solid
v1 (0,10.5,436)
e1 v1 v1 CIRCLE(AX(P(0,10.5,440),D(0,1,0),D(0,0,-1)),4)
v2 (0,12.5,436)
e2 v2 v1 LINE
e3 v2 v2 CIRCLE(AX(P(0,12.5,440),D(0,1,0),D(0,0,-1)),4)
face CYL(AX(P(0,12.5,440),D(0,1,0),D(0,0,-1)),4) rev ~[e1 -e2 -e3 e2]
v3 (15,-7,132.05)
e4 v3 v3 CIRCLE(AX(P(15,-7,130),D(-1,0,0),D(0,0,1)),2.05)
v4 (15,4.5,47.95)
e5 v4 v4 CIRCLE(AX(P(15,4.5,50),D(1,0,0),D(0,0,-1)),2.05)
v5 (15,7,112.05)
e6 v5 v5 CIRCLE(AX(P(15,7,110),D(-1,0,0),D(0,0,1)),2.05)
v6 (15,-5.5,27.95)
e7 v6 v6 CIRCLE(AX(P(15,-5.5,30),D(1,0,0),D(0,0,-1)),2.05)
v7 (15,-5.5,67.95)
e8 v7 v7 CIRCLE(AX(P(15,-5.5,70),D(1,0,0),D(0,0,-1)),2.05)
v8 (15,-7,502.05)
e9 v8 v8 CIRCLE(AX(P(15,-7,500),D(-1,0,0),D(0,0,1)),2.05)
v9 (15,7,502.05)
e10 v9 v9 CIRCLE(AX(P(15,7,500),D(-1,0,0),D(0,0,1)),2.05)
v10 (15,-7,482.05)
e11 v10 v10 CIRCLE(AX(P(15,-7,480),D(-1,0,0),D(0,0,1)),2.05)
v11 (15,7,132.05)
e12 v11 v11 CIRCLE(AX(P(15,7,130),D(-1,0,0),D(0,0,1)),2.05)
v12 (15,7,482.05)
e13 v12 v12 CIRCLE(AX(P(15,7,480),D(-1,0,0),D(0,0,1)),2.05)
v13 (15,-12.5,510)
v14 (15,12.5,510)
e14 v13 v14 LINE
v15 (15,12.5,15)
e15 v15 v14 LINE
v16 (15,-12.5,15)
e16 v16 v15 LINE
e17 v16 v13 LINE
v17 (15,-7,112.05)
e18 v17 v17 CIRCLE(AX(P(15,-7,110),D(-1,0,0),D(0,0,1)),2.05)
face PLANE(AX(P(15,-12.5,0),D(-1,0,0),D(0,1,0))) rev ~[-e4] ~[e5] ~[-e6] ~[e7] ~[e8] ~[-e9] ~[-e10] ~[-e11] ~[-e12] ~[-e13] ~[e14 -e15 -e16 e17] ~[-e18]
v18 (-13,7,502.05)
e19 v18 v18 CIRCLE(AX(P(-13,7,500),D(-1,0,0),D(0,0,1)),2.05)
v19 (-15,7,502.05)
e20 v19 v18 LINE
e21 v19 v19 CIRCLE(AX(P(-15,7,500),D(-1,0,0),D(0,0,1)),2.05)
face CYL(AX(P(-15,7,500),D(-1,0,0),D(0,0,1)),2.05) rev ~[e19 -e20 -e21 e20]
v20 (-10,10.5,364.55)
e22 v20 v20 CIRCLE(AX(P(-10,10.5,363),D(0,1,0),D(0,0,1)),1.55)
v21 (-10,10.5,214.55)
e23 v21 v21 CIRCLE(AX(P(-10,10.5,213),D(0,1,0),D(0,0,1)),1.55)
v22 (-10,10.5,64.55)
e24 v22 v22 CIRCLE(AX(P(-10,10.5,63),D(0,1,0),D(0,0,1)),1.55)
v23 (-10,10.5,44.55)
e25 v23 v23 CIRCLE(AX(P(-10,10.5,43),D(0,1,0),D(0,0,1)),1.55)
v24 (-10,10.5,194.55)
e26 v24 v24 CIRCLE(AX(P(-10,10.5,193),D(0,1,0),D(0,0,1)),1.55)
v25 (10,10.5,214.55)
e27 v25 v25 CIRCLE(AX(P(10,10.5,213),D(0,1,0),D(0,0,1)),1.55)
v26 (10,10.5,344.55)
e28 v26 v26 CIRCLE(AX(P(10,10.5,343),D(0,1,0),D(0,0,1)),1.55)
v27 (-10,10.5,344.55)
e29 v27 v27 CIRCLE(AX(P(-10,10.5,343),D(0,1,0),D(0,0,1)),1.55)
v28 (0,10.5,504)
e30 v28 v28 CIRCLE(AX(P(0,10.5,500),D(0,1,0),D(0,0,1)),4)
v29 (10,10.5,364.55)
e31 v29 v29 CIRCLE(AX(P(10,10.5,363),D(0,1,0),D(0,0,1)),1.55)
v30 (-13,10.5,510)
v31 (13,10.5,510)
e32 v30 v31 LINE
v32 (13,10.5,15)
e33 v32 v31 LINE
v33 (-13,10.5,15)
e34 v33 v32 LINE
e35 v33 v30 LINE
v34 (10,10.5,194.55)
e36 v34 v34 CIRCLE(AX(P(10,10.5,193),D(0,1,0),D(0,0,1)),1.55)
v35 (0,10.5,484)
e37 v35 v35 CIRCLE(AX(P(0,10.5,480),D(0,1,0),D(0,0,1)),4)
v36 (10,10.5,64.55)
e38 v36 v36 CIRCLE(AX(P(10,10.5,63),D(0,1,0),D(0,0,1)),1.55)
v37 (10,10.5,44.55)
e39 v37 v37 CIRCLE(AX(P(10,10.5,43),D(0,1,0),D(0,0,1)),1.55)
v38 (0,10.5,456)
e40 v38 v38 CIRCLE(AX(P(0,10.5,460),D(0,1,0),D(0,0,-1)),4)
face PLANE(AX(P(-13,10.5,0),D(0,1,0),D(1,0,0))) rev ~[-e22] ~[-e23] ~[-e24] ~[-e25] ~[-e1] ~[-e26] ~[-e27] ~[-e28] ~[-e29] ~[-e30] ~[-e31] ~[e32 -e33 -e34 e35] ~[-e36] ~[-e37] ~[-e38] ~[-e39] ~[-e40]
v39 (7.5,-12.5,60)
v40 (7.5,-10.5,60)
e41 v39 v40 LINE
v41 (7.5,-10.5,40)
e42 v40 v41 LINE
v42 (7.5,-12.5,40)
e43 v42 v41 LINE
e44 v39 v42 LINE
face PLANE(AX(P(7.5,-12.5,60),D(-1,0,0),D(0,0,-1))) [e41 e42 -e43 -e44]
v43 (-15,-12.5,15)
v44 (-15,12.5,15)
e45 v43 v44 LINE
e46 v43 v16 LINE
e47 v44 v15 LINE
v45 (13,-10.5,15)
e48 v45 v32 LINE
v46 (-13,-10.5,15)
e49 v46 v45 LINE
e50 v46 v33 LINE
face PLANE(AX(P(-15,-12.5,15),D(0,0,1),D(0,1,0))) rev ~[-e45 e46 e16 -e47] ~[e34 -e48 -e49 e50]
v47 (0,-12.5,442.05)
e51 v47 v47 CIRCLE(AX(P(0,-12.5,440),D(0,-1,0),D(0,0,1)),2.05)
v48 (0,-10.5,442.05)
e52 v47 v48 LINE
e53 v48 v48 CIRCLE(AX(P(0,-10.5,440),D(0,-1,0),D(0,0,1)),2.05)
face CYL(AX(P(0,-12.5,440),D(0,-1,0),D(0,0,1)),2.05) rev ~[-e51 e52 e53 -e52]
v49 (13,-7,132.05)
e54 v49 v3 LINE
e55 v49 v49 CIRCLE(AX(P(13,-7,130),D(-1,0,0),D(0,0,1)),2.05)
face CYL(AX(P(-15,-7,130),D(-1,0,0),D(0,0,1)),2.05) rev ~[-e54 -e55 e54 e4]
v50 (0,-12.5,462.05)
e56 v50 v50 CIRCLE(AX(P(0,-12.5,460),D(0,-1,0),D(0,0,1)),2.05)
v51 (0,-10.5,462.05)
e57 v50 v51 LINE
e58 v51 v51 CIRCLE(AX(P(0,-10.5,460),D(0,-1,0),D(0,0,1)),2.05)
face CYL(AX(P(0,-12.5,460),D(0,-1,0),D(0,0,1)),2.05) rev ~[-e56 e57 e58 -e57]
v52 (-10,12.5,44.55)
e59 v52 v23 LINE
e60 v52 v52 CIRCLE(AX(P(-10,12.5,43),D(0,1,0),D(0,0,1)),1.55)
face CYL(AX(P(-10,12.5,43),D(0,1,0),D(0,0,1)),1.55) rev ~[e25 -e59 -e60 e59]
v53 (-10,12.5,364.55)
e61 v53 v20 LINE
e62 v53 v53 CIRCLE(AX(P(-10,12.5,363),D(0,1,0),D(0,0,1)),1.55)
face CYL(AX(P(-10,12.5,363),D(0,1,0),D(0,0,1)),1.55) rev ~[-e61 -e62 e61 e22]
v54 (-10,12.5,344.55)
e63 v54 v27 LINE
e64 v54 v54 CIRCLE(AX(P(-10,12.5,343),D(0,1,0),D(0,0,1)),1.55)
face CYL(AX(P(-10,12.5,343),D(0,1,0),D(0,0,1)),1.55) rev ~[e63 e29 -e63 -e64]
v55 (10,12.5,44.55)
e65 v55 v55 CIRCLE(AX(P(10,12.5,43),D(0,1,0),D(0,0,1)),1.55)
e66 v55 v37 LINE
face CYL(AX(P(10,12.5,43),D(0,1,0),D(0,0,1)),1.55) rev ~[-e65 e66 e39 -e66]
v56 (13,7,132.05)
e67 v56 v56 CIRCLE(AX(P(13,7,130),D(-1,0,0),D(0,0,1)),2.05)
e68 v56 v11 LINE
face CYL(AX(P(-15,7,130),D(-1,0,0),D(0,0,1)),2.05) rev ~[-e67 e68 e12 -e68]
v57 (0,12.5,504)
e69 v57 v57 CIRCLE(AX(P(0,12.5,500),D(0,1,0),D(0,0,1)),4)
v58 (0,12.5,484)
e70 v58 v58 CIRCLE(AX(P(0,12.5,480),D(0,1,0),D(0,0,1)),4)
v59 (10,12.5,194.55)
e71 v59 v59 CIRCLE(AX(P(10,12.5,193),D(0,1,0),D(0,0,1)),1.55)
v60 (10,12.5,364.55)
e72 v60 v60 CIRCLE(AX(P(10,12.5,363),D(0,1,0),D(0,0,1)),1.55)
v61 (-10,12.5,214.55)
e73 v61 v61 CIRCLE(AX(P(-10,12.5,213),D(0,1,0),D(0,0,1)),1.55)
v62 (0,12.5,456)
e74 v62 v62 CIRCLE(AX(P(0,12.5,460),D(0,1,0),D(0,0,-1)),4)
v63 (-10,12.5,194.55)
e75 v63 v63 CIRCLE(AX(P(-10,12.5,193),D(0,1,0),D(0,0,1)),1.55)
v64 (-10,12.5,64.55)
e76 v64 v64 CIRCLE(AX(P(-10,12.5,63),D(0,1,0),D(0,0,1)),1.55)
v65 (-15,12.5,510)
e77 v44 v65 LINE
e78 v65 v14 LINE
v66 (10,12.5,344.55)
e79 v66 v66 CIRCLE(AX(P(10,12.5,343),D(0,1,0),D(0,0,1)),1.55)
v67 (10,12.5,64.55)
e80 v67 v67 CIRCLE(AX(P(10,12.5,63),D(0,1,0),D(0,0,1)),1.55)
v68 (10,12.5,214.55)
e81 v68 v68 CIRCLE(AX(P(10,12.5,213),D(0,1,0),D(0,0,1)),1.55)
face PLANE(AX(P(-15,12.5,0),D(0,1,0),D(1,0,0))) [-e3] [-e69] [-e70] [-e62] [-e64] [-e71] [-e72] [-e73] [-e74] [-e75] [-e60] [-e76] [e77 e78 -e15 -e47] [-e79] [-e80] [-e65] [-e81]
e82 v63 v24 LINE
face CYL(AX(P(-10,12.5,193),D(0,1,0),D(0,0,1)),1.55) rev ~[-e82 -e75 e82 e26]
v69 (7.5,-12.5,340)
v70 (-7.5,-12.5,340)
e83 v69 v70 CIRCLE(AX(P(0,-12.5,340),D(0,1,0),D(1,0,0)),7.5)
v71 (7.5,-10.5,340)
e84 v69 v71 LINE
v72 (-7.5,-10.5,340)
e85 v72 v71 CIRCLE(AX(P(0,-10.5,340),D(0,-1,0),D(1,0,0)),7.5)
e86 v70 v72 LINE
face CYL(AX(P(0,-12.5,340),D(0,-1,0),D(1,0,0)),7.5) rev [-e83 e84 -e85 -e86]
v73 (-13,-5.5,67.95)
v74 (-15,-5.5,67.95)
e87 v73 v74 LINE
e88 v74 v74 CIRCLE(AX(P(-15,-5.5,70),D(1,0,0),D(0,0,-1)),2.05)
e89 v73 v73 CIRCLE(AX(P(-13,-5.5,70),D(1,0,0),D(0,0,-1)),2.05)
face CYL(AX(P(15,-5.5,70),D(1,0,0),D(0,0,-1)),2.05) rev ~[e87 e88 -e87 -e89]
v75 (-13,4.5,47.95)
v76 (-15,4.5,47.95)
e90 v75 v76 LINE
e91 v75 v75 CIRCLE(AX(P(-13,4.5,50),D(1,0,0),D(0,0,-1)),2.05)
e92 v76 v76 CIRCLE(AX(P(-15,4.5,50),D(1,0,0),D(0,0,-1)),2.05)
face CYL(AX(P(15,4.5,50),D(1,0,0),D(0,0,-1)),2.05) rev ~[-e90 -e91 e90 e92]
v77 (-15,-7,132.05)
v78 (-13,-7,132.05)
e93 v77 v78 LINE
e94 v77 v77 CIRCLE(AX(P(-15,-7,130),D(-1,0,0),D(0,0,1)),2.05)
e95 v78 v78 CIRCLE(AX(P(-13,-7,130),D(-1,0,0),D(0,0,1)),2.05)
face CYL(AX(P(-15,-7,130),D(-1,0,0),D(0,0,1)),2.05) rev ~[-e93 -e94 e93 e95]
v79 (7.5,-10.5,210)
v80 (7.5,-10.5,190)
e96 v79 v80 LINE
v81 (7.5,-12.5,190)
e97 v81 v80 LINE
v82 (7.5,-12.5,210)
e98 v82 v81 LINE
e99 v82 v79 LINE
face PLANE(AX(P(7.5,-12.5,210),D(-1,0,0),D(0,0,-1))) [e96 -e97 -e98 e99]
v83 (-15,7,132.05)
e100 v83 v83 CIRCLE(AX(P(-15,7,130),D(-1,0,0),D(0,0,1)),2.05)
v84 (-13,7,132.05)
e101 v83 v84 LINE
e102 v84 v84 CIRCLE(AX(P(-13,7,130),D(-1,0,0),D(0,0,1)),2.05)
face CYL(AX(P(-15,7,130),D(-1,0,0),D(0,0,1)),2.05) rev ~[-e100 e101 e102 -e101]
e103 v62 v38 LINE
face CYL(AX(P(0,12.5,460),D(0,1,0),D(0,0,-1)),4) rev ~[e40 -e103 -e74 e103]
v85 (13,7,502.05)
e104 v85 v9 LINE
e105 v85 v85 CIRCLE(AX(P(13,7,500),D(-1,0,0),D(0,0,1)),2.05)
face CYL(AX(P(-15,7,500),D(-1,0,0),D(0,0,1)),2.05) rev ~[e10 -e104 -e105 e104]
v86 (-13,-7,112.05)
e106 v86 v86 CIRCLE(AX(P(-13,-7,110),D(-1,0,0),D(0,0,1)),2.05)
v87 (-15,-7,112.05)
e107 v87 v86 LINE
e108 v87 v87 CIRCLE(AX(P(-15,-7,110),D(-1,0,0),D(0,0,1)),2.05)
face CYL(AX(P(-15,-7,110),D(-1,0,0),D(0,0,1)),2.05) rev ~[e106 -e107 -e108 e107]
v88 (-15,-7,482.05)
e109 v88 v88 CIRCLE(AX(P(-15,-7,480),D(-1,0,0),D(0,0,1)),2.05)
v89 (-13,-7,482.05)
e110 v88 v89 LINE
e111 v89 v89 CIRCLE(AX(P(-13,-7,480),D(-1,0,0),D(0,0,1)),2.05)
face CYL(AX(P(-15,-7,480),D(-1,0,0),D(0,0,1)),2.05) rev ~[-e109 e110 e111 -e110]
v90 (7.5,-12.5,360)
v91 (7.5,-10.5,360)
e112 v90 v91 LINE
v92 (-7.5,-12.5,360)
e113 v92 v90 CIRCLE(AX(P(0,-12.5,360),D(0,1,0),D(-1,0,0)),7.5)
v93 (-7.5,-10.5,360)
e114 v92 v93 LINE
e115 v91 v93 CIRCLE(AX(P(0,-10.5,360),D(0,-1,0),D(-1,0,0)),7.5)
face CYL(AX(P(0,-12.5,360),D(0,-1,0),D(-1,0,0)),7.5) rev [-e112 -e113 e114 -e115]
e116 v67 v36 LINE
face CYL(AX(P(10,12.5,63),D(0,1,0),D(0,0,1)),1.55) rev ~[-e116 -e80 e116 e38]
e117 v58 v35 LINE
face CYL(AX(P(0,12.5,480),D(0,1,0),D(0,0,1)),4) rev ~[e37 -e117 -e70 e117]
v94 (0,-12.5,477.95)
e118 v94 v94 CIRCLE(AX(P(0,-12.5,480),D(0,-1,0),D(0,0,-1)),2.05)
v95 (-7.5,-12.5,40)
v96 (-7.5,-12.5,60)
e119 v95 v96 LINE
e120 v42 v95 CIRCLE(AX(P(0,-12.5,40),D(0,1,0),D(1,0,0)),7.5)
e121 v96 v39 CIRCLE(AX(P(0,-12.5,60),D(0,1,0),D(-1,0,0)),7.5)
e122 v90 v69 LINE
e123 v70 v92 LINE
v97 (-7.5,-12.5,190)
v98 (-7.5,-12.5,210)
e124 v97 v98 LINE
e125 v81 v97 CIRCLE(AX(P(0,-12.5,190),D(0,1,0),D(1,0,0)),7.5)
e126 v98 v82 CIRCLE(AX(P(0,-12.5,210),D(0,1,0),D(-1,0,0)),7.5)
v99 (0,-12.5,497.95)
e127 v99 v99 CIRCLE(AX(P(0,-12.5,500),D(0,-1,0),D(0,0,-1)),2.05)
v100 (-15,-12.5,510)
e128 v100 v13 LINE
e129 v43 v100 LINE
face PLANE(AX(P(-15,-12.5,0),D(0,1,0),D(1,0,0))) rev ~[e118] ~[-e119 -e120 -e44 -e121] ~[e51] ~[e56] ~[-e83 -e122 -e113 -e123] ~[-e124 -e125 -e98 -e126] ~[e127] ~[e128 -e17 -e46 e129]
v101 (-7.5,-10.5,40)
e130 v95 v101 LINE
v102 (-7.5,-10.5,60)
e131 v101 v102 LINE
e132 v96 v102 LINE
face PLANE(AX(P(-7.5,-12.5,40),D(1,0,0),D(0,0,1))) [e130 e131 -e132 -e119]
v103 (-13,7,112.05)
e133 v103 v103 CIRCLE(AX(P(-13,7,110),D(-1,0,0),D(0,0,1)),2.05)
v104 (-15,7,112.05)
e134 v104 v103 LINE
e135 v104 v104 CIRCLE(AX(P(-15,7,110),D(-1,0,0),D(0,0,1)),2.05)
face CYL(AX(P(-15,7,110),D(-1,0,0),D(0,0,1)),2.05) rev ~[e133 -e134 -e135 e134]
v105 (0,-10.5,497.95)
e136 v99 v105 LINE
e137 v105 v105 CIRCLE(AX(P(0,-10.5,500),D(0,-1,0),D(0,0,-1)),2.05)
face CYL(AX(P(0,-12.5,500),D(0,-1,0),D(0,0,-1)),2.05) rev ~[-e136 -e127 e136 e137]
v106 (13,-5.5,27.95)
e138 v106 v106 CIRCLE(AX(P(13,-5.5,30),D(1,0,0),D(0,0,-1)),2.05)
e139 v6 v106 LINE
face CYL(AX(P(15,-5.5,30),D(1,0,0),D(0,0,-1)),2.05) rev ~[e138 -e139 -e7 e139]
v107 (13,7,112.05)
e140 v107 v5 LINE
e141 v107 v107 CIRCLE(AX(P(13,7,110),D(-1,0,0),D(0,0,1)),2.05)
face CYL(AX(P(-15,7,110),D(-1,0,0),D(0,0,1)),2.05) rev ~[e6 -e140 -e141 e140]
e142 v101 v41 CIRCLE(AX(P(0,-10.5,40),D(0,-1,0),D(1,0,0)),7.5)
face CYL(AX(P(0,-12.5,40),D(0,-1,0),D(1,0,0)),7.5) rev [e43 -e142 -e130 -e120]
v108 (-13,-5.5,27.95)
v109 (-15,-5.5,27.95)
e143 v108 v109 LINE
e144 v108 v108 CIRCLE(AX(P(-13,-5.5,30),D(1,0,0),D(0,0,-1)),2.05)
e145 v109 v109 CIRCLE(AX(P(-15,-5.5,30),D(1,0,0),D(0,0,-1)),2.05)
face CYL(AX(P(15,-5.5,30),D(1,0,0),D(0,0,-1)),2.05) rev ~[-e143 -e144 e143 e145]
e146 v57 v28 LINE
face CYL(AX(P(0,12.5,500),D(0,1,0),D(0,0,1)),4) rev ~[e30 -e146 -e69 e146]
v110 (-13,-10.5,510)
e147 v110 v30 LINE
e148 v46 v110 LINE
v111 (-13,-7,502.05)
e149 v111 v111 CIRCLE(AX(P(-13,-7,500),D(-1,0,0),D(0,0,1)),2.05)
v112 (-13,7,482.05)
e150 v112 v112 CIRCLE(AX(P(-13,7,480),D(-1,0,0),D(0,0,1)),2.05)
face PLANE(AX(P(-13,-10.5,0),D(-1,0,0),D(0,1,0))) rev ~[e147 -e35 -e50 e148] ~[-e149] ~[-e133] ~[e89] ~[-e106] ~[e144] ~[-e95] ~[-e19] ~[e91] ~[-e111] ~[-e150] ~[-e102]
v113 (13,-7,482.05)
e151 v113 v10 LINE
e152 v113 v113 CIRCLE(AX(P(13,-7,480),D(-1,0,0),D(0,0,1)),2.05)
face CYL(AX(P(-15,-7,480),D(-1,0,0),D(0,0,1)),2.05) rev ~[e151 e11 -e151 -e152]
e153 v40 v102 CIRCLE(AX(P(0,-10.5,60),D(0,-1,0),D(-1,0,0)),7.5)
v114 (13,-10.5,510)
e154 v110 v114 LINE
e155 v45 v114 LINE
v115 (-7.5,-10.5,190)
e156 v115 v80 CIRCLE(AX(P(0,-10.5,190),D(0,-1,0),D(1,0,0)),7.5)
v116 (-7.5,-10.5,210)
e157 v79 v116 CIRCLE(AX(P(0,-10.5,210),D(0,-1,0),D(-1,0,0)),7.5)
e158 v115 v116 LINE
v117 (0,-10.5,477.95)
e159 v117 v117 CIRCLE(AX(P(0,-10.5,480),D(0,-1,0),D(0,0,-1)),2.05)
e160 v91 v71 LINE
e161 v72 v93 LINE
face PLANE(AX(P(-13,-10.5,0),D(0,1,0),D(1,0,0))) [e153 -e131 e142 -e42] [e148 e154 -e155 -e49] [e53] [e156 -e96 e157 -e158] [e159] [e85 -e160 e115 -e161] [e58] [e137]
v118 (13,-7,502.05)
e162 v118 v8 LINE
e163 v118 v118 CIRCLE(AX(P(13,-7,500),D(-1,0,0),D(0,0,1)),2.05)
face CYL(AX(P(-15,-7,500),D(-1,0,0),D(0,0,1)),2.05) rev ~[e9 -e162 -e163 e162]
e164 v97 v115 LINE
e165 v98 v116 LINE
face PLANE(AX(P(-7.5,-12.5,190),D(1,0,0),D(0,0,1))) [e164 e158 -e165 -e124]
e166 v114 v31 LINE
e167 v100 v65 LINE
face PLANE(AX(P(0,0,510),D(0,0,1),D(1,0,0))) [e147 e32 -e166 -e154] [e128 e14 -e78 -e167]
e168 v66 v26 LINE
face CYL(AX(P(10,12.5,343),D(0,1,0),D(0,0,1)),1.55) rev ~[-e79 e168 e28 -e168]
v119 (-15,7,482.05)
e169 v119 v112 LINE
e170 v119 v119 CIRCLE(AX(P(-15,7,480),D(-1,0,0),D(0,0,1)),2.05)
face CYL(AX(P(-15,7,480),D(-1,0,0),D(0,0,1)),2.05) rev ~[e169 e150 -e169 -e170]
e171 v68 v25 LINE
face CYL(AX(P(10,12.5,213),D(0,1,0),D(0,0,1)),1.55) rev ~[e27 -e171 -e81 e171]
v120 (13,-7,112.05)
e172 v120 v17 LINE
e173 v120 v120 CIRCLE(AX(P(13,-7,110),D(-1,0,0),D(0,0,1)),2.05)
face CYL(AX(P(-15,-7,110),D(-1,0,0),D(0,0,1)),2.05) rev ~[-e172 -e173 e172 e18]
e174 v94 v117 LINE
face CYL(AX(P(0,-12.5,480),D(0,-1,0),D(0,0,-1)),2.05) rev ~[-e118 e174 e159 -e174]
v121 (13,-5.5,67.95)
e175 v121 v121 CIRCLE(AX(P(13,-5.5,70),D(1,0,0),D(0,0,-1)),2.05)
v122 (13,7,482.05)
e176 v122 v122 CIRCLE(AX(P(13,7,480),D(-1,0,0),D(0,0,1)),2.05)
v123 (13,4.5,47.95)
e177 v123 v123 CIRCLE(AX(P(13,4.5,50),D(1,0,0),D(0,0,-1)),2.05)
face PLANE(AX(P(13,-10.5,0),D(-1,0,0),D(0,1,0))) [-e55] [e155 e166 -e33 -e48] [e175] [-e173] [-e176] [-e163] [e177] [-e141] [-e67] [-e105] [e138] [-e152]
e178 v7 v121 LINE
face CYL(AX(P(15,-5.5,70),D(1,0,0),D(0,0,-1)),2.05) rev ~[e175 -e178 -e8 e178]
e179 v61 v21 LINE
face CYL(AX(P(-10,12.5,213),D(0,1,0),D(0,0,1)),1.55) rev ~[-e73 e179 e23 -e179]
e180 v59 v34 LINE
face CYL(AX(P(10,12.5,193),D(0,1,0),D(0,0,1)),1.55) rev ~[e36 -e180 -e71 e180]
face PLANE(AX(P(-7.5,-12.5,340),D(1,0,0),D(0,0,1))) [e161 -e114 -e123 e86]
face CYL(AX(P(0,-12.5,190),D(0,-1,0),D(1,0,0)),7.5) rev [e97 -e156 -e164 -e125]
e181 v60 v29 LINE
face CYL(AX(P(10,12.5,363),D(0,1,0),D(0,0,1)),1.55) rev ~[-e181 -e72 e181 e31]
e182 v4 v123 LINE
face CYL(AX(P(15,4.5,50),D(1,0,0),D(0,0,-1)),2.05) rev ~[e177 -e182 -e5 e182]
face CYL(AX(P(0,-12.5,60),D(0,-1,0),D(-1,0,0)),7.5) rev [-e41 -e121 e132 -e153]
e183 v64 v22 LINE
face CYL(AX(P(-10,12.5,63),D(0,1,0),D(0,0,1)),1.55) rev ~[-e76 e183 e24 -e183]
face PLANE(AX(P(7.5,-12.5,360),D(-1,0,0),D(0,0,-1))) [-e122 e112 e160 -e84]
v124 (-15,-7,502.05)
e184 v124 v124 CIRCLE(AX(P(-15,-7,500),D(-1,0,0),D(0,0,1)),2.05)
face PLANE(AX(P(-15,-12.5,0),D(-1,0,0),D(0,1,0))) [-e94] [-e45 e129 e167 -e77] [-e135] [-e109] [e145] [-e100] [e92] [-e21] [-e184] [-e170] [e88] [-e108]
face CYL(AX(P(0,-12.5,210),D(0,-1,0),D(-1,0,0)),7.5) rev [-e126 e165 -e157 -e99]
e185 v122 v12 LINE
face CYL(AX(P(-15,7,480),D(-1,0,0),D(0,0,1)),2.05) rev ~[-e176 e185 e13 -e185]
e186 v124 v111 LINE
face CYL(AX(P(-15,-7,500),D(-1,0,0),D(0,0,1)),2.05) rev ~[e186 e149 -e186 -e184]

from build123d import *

# Parameters (mm, degrees)
SKETCH_1_W           = 30
SKETCH_1_H           = 25
SKETCH_1_W_2         = 26
SKETCH_1_H_2         = 21
EXTRUDE_1_DEPTH      = 510
CUT_EXTRUDE_4_REACH  = 512.833
SKETCH_7_R           = 2.05
CUT_EXTRUDE_7_DEPTH  = 512.03449003
SKETCH_9_R           = 2.05
CUT_EXTRUDE_9_DEPTH  = 10
SKETCH_10_R          = 4
CUT_EXTRUDE_10_DEPTH = 10
SKETCH_11_R          = 2.05
CUT_EXTRUDE_11_DEPTH = 52
SKETCH_12_W          = 15
SKETCH_12_H          = 25
CUT_EXTRUDE_12_DEPTH = 512.03449003
CUT_EXTRUDE_13_REACH = 512.833
SKETCH_5_R           = 1.55


with BuildPart() as part:
    # 草图1 → 凸台-拉伸1 (new body)
    with BuildSketch(Plane.XY):
        Rectangle(SKETCH_1_W, SKETCH_1_H)
        Rectangle(SKETCH_1_W_2, SKETCH_1_H_2, mode=Mode.SUBTRACT)
    extrude(amount=EXTRUDE_1_DEPTH)

    # 草图4 → 切除-拉伸4 (cut, up to next)
    with BuildSketch(Plane.XZ.offset(12.5), mode=Mode.PRIVATE) as cut_extrude_4_sk1:
        with BuildLine():
            Line((-7.5, 40), (-7.5, 60))
            ThreePointArc((-7.5, 60), (0, 67.5), (7.5, 60))
            Line((7.5, 60), (7.5, 40))
            ThreePointArc((7.5, 40), (0, 32.5), (-7.5, 40))
        make_face()
    cut_extrude_4_tool1 = extrude(cut_extrude_4_sk1.sketch, amount=-CUT_EXTRUDE_4_REACH, mode=Mode.PRIVATE) & part.part
    # 草图4 → 切除-拉伸4 (cut, up to next)
    with BuildSketch(Plane.XZ.offset(12.5), mode=Mode.PRIVATE) as cut_extrude_4_sk2:
        with BuildLine():
            Line((-7.5, 190), (-7.5, 210))
            ThreePointArc((-7.5, 210), (0, 217.5), (7.5, 210))
            Line((7.5, 210), (7.5, 190))
            ThreePointArc((7.5, 190), (0, 182.5), (-7.5, 190))
        make_face()
    cut_extrude_4_tool2 = extrude(cut_extrude_4_sk2.sketch, amount=-CUT_EXTRUDE_4_REACH, mode=Mode.PRIVATE) & part.part
    # 草图4 → 切除-拉伸4 (cut, up to next)
    with BuildSketch(Plane.XZ.offset(12.5), mode=Mode.PRIVATE) as cut_extrude_4_sk3:
        with BuildLine():
            Line((-7.5, 340), (-7.5, 360))
            ThreePointArc((-7.5, 360), (0, 367.5), (7.5, 360))
            Line((7.5, 360), (7.5, 340))
            ThreePointArc((7.5, 340), (0, 332.5), (-7.5, 340))
        make_face()
    cut_extrude_4_tool3 = extrude(cut_extrude_4_sk3.sketch, amount=-CUT_EXTRUDE_4_REACH, mode=Mode.PRIVATE) & part.part
    add(cut_extrude_4_tool1.solids().sort_by_distance((0, -12.5, 50))[0], mode=Mode.SUBTRACT)
    add(cut_extrude_4_tool2.solids().sort_by_distance((0, -12.5, 200))[0], mode=Mode.SUBTRACT)
    add(cut_extrude_4_tool3.solids().sort_by_distance((0, -12.5, 350))[0], mode=Mode.SUBTRACT)

    # 草图7 → 切除-拉伸7 (cut, through all)
    with BuildSketch(Plane(origin=(15, 0, 0), x_dir=(0, 0, -1), z_dir=(1, 0, 0))):
        with Locations((-30, -5.5)):
            Circle(SKETCH_7_R)
        with Locations((-50, 4.5)):
            Circle(SKETCH_7_R)
        with Locations((-70, -5.5)):
            Circle(SKETCH_7_R)
    extrude(amount=-CUT_EXTRUDE_7_DEPTH, mode=Mode.SUBTRACT)

    # 草图9 → 切除-拉伸9 (cut)
    with BuildSketch(Plane.XZ.offset(12.5)):
        with Locations(Location((0, 480, 0), (0, 0, 270))):
            Circle(SKETCH_9_R)
        with Locations(Location((0, 500, 0), (0, 0, 270))):
            Circle(SKETCH_9_R)
        with Locations(Location((0, 440, 0), (0, 0, 90))):
            Circle(SKETCH_9_R)
        with Locations(Location((0, 460, 0), (0, 0, 90))):
            Circle(SKETCH_9_R)
    extrude(amount=-CUT_EXTRUDE_9_DEPTH, mode=Mode.SUBTRACT)

    # 草图10 → 切除-拉伸10 (cut)
    with BuildSketch(Plane(origin=(0, 12.5, 0), x_dir=(1, 0, 0), z_dir=(0, 1, 0))):
        with Locations(Location((0, -500, 0), (0, 0, 270))):
            Circle(SKETCH_10_R)
        with Locations(Location((0, -480, 0), (0, 0, 270))):
            Circle(SKETCH_10_R)
        with Locations(Location((0, -460, 0), (0, 0, 90))):
            Circle(SKETCH_10_R)
        with Locations(Location((0, -440, 0), (0, 0, 90))):
            Circle(SKETCH_10_R)
    extrude(amount=-CUT_EXTRUDE_10_DEPTH, mode=Mode.SUBTRACT)

    # 草图11 → 切除-拉伸11 (cut)
    with BuildSketch(Plane.ZY.offset(15)):
        with Locations((480, 7)):
            Circle(SKETCH_11_R)
        with Locations((500, 7)):
            Circle(SKETCH_11_R)
        with Locations((480, -7)):
            Circle(SKETCH_11_R)
        with Locations((500, -7)):
            Circle(SKETCH_11_R)
        with Locations((110, 7)):
            Circle(SKETCH_11_R)
        with Locations((130, 7)):
            Circle(SKETCH_11_R)
        with Locations((110, -7)):
            Circle(SKETCH_11_R)
        with Locations((130, -7)):
            Circle(SKETCH_11_R)
    extrude(amount=-CUT_EXTRUDE_11_DEPTH, mode=Mode.SUBTRACT)

    # 草图12 → 切除-拉伸12 (cut, through all)
    with BuildSketch(Plane.ZY.offset(15)):
        with Locations((7.5, 0)):
            Rectangle(SKETCH_12_W, SKETCH_12_H)
    extrude(amount=-CUT_EXTRUDE_12_DEPTH, mode=Mode.SUBTRACT)

    # 草图5 → 切除-拉伸13 (cut, up to next)
    with BuildSketch(Plane(origin=(0, 12.5, 0), x_dir=(1, 0, 0), z_dir=(0, 1, 0)), mode=Mode.PRIVATE) as cut_extrude_13_sk1:
        with Locations(Location((-10, -43, 0), (0, 0, 270))):
            Circle(SKETCH_5_R)
    cut_extrude_13_tool1 = extrude(cut_extrude_13_sk1.sketch, amount=-CUT_EXTRUDE_13_REACH, mode=Mode.PRIVATE) & part.part
    # 草图5 → 切除-拉伸13 (cut, up to next)
    with BuildSketch(Plane(origin=(0, 12.5, 0), x_dir=(1, 0, 0), z_dir=(0, 1, 0)), mode=Mode.PRIVATE) as cut_extrude_13_sk2:
        with Locations(Location((10, -43, 0), (0, 0, 270))):
            Circle(SKETCH_5_R)
    cut_extrude_13_tool2 = extrude(cut_extrude_13_sk2.sketch, amount=-CUT_EXTRUDE_13_REACH, mode=Mode.PRIVATE) & part.part
    # 草图5 → 切除-拉伸13 (cut, up to next)
    with BuildSketch(Plane(origin=(0, 12.5, 0), x_dir=(1, 0, 0), z_dir=(0, 1, 0)), mode=Mode.PRIVATE) as cut_extrude_13_sk3:
        with Locations(Location((-10, -63, 0), (0, 0, 270))):
            Circle(SKETCH_5_R)
    cut_extrude_13_tool3 = extrude(cut_extrude_13_sk3.sketch, amount=-CUT_EXTRUDE_13_REACH, mode=Mode.PRIVATE) & part.part
    # 草图5 → 切除-拉伸13 (cut, up to next)
    with BuildSketch(Plane(origin=(0, 12.5, 0), x_dir=(1, 0, 0), z_dir=(0, 1, 0)), mode=Mode.PRIVATE) as cut_extrude_13_sk4:
        with Locations(Location((10, -63, 0), (0, 0, 270))):
            Circle(SKETCH_5_R)
    cut_extrude_13_tool4 = extrude(cut_extrude_13_sk4.sketch, amount=-CUT_EXTRUDE_13_REACH, mode=Mode.PRIVATE) & part.part
    # 草图5 → 切除-拉伸13 (cut, up to next)
    with BuildSketch(Plane(origin=(0, 12.5, 0), x_dir=(1, 0, 0), z_dir=(0, 1, 0)), mode=Mode.PRIVATE) as cut_extrude_13_sk5:
        with Locations(Location((-10, -193, 0), (0, 0, 270))):
            Circle(SKETCH_5_R)
    cut_extrude_13_tool5 = extrude(cut_extrude_13_sk5.sketch, amount=-CUT_EXTRUDE_13_REACH, mode=Mode.PRIVATE) & part.part
    # 草图5 → 切除-拉伸13 (cut, up to next)
    with BuildSketch(Plane(origin=(0, 12.5, 0), x_dir=(1, 0, 0), z_dir=(0, 1, 0)), mode=Mode.PRIVATE) as cut_extrude_13_sk6:
        with Locations(Location((-10, -213, 0), (0, 0, 270))):
            Circle(SKETCH_5_R)
    cut_extrude_13_tool6 = extrude(cut_extrude_13_sk6.sketch, amount=-CUT_EXTRUDE_13_REACH, mode=Mode.PRIVATE) & part.part
    # 草图5 → 切除-拉伸13 (cut, up to next)
    with BuildSketch(Plane(origin=(0, 12.5, 0), x_dir=(1, 0, 0), z_dir=(0, 1, 0)), mode=Mode.PRIVATE) as cut_extrude_13_sk7:
        with Locations(Location((10, -193, 0), (0, 0, 270))):
            Circle(SKETCH_5_R)
    cut_extrude_13_tool7 = extrude(cut_extrude_13_sk7.sketch, amount=-CUT_EXTRUDE_13_REACH, mode=Mode.PRIVATE) & part.part
    # 草图5 → 切除-拉伸13 (cut, up to next)
    with BuildSketch(Plane(origin=(0, 12.5, 0), x_dir=(1, 0, 0), z_dir=(0, 1, 0)), mode=Mode.PRIVATE) as cut_extrude_13_sk8:
        with Locations(Location((10, -213, 0), (0, 0, 270))):
            Circle(SKETCH_5_R)
    cut_extrude_13_tool8 = extrude(cut_extrude_13_sk8.sketch, amount=-CUT_EXTRUDE_13_REACH, mode=Mode.PRIVATE) & part.part
    # 草图5 → 切除-拉伸13 (cut, up to next)
    with BuildSketch(Plane(origin=(0, 12.5, 0), x_dir=(1, 0, 0), z_dir=(0, 1, 0)), mode=Mode.PRIVATE) as cut_extrude_13_sk9:
        with Locations(Location((-10, -343, 0), (0, 0, 270))):
            Circle(SKETCH_5_R)
    cut_extrude_13_tool9 = extrude(cut_extrude_13_sk9.sketch, amount=-CUT_EXTRUDE_13_REACH, mode=Mode.PRIVATE) & part.part
    # 草图5 → 切除-拉伸13 (cut, up to next)
    with BuildSketch(Plane(origin=(0, 12.5, 0), x_dir=(1, 0, 0), z_dir=(0, 1, 0)), mode=Mode.PRIVATE) as cut_extrude_13_sk10:
        with Locations(Location((-10, -363, 0), (0, 0, 270))):
            Circle(SKETCH_5_R)
    cut_extrude_13_tool10 = extrude(cut_extrude_13_sk10.sketch, amount=-CUT_EXTRUDE_13_REACH, mode=Mode.PRIVATE) & part.part
    # 草图5 → 切除-拉伸13 (cut, up to next)
    with BuildSketch(Plane(origin=(0, 12.5, 0), x_dir=(1, 0, 0), z_dir=(0, 1, 0)), mode=Mode.PRIVATE) as cut_extrude_13_sk11:
        with Locations(Location((10, -343, 0), (0, 0, 270))):
            Circle(SKETCH_5_R)
    cut_extrude_13_tool11 = extrude(cut_extrude_13_sk11.sketch, amount=-CUT_EXTRUDE_13_REACH, mode=Mode.PRIVATE) & part.part
    # 草图5 → 切除-拉伸13 (cut, up to next)
    with BuildSketch(Plane(origin=(0, 12.5, 0), x_dir=(1, 0, 0), z_dir=(0, 1, 0)), mode=Mode.PRIVATE) as cut_extrude_13_sk12:
        with Locations(Location((10, -363, 0), (0, 0, 270))):
            Circle(SKETCH_5_R)
    cut_extrude_13_tool12 = extrude(cut_extrude_13_sk12.sketch, amount=-CUT_EXTRUDE_13_REACH, mode=Mode.PRIVATE) & part.part
    add(cut_extrude_13_tool1.solids().sort_by_distance((-10, 12.5, 43))[0], mode=Mode.SUBTRACT)
    add(cut_extrude_13_tool2.solids().sort_by_distance((10, 12.5, 43))[0], mode=Mode.SUBTRACT)
    add(cut_extrude_13_tool3.solids().sort_by_distance((-10, 12.5, 63))[0], mode=Mode.SUBTRACT)
    add(cut_extrude_13_tool4.solids().sort_by_distance((10, 12.5, 63))[0], mode=Mode.SUBTRACT)
    add(cut_extrude_13_tool5.solids().sort_by_distance((-10, 12.5, 193))[0], mode=Mode.SUBTRACT)
    add(cut_extrude_13_tool6.solids().sort_by_distance((-10, 12.5, 213))[0], mode=Mode.SUBTRACT)
    add(cut_extrude_13_tool7.solids().sort_by_distance((10, 12.5, 193))[0], mode=Mode.SUBTRACT)
    add(cut_extrude_13_tool8.solids().sort_by_distance((10, 12.5, 213))[0], mode=Mode.SUBTRACT)
    add(cut_extrude_13_tool9.solids().sort_by_distance((-10, 12.5, 343))[0], mode=Mode.SUBTRACT)
    add(cut_extrude_13_tool10.solids().sort_by_distance((-10, 12.5, 363))[0], mode=Mode.SUBTRACT)
    add(cut_extrude_13_tool11.solids().sort_by_distance((10, 12.5, 343))[0], mode=Mode.SUBTRACT)
    add(cut_extrude_13_tool12.solids().sort_by_distance((10, 12.5, 363))[0], mode=Mode.SUBTRACT)


solid = part.part
